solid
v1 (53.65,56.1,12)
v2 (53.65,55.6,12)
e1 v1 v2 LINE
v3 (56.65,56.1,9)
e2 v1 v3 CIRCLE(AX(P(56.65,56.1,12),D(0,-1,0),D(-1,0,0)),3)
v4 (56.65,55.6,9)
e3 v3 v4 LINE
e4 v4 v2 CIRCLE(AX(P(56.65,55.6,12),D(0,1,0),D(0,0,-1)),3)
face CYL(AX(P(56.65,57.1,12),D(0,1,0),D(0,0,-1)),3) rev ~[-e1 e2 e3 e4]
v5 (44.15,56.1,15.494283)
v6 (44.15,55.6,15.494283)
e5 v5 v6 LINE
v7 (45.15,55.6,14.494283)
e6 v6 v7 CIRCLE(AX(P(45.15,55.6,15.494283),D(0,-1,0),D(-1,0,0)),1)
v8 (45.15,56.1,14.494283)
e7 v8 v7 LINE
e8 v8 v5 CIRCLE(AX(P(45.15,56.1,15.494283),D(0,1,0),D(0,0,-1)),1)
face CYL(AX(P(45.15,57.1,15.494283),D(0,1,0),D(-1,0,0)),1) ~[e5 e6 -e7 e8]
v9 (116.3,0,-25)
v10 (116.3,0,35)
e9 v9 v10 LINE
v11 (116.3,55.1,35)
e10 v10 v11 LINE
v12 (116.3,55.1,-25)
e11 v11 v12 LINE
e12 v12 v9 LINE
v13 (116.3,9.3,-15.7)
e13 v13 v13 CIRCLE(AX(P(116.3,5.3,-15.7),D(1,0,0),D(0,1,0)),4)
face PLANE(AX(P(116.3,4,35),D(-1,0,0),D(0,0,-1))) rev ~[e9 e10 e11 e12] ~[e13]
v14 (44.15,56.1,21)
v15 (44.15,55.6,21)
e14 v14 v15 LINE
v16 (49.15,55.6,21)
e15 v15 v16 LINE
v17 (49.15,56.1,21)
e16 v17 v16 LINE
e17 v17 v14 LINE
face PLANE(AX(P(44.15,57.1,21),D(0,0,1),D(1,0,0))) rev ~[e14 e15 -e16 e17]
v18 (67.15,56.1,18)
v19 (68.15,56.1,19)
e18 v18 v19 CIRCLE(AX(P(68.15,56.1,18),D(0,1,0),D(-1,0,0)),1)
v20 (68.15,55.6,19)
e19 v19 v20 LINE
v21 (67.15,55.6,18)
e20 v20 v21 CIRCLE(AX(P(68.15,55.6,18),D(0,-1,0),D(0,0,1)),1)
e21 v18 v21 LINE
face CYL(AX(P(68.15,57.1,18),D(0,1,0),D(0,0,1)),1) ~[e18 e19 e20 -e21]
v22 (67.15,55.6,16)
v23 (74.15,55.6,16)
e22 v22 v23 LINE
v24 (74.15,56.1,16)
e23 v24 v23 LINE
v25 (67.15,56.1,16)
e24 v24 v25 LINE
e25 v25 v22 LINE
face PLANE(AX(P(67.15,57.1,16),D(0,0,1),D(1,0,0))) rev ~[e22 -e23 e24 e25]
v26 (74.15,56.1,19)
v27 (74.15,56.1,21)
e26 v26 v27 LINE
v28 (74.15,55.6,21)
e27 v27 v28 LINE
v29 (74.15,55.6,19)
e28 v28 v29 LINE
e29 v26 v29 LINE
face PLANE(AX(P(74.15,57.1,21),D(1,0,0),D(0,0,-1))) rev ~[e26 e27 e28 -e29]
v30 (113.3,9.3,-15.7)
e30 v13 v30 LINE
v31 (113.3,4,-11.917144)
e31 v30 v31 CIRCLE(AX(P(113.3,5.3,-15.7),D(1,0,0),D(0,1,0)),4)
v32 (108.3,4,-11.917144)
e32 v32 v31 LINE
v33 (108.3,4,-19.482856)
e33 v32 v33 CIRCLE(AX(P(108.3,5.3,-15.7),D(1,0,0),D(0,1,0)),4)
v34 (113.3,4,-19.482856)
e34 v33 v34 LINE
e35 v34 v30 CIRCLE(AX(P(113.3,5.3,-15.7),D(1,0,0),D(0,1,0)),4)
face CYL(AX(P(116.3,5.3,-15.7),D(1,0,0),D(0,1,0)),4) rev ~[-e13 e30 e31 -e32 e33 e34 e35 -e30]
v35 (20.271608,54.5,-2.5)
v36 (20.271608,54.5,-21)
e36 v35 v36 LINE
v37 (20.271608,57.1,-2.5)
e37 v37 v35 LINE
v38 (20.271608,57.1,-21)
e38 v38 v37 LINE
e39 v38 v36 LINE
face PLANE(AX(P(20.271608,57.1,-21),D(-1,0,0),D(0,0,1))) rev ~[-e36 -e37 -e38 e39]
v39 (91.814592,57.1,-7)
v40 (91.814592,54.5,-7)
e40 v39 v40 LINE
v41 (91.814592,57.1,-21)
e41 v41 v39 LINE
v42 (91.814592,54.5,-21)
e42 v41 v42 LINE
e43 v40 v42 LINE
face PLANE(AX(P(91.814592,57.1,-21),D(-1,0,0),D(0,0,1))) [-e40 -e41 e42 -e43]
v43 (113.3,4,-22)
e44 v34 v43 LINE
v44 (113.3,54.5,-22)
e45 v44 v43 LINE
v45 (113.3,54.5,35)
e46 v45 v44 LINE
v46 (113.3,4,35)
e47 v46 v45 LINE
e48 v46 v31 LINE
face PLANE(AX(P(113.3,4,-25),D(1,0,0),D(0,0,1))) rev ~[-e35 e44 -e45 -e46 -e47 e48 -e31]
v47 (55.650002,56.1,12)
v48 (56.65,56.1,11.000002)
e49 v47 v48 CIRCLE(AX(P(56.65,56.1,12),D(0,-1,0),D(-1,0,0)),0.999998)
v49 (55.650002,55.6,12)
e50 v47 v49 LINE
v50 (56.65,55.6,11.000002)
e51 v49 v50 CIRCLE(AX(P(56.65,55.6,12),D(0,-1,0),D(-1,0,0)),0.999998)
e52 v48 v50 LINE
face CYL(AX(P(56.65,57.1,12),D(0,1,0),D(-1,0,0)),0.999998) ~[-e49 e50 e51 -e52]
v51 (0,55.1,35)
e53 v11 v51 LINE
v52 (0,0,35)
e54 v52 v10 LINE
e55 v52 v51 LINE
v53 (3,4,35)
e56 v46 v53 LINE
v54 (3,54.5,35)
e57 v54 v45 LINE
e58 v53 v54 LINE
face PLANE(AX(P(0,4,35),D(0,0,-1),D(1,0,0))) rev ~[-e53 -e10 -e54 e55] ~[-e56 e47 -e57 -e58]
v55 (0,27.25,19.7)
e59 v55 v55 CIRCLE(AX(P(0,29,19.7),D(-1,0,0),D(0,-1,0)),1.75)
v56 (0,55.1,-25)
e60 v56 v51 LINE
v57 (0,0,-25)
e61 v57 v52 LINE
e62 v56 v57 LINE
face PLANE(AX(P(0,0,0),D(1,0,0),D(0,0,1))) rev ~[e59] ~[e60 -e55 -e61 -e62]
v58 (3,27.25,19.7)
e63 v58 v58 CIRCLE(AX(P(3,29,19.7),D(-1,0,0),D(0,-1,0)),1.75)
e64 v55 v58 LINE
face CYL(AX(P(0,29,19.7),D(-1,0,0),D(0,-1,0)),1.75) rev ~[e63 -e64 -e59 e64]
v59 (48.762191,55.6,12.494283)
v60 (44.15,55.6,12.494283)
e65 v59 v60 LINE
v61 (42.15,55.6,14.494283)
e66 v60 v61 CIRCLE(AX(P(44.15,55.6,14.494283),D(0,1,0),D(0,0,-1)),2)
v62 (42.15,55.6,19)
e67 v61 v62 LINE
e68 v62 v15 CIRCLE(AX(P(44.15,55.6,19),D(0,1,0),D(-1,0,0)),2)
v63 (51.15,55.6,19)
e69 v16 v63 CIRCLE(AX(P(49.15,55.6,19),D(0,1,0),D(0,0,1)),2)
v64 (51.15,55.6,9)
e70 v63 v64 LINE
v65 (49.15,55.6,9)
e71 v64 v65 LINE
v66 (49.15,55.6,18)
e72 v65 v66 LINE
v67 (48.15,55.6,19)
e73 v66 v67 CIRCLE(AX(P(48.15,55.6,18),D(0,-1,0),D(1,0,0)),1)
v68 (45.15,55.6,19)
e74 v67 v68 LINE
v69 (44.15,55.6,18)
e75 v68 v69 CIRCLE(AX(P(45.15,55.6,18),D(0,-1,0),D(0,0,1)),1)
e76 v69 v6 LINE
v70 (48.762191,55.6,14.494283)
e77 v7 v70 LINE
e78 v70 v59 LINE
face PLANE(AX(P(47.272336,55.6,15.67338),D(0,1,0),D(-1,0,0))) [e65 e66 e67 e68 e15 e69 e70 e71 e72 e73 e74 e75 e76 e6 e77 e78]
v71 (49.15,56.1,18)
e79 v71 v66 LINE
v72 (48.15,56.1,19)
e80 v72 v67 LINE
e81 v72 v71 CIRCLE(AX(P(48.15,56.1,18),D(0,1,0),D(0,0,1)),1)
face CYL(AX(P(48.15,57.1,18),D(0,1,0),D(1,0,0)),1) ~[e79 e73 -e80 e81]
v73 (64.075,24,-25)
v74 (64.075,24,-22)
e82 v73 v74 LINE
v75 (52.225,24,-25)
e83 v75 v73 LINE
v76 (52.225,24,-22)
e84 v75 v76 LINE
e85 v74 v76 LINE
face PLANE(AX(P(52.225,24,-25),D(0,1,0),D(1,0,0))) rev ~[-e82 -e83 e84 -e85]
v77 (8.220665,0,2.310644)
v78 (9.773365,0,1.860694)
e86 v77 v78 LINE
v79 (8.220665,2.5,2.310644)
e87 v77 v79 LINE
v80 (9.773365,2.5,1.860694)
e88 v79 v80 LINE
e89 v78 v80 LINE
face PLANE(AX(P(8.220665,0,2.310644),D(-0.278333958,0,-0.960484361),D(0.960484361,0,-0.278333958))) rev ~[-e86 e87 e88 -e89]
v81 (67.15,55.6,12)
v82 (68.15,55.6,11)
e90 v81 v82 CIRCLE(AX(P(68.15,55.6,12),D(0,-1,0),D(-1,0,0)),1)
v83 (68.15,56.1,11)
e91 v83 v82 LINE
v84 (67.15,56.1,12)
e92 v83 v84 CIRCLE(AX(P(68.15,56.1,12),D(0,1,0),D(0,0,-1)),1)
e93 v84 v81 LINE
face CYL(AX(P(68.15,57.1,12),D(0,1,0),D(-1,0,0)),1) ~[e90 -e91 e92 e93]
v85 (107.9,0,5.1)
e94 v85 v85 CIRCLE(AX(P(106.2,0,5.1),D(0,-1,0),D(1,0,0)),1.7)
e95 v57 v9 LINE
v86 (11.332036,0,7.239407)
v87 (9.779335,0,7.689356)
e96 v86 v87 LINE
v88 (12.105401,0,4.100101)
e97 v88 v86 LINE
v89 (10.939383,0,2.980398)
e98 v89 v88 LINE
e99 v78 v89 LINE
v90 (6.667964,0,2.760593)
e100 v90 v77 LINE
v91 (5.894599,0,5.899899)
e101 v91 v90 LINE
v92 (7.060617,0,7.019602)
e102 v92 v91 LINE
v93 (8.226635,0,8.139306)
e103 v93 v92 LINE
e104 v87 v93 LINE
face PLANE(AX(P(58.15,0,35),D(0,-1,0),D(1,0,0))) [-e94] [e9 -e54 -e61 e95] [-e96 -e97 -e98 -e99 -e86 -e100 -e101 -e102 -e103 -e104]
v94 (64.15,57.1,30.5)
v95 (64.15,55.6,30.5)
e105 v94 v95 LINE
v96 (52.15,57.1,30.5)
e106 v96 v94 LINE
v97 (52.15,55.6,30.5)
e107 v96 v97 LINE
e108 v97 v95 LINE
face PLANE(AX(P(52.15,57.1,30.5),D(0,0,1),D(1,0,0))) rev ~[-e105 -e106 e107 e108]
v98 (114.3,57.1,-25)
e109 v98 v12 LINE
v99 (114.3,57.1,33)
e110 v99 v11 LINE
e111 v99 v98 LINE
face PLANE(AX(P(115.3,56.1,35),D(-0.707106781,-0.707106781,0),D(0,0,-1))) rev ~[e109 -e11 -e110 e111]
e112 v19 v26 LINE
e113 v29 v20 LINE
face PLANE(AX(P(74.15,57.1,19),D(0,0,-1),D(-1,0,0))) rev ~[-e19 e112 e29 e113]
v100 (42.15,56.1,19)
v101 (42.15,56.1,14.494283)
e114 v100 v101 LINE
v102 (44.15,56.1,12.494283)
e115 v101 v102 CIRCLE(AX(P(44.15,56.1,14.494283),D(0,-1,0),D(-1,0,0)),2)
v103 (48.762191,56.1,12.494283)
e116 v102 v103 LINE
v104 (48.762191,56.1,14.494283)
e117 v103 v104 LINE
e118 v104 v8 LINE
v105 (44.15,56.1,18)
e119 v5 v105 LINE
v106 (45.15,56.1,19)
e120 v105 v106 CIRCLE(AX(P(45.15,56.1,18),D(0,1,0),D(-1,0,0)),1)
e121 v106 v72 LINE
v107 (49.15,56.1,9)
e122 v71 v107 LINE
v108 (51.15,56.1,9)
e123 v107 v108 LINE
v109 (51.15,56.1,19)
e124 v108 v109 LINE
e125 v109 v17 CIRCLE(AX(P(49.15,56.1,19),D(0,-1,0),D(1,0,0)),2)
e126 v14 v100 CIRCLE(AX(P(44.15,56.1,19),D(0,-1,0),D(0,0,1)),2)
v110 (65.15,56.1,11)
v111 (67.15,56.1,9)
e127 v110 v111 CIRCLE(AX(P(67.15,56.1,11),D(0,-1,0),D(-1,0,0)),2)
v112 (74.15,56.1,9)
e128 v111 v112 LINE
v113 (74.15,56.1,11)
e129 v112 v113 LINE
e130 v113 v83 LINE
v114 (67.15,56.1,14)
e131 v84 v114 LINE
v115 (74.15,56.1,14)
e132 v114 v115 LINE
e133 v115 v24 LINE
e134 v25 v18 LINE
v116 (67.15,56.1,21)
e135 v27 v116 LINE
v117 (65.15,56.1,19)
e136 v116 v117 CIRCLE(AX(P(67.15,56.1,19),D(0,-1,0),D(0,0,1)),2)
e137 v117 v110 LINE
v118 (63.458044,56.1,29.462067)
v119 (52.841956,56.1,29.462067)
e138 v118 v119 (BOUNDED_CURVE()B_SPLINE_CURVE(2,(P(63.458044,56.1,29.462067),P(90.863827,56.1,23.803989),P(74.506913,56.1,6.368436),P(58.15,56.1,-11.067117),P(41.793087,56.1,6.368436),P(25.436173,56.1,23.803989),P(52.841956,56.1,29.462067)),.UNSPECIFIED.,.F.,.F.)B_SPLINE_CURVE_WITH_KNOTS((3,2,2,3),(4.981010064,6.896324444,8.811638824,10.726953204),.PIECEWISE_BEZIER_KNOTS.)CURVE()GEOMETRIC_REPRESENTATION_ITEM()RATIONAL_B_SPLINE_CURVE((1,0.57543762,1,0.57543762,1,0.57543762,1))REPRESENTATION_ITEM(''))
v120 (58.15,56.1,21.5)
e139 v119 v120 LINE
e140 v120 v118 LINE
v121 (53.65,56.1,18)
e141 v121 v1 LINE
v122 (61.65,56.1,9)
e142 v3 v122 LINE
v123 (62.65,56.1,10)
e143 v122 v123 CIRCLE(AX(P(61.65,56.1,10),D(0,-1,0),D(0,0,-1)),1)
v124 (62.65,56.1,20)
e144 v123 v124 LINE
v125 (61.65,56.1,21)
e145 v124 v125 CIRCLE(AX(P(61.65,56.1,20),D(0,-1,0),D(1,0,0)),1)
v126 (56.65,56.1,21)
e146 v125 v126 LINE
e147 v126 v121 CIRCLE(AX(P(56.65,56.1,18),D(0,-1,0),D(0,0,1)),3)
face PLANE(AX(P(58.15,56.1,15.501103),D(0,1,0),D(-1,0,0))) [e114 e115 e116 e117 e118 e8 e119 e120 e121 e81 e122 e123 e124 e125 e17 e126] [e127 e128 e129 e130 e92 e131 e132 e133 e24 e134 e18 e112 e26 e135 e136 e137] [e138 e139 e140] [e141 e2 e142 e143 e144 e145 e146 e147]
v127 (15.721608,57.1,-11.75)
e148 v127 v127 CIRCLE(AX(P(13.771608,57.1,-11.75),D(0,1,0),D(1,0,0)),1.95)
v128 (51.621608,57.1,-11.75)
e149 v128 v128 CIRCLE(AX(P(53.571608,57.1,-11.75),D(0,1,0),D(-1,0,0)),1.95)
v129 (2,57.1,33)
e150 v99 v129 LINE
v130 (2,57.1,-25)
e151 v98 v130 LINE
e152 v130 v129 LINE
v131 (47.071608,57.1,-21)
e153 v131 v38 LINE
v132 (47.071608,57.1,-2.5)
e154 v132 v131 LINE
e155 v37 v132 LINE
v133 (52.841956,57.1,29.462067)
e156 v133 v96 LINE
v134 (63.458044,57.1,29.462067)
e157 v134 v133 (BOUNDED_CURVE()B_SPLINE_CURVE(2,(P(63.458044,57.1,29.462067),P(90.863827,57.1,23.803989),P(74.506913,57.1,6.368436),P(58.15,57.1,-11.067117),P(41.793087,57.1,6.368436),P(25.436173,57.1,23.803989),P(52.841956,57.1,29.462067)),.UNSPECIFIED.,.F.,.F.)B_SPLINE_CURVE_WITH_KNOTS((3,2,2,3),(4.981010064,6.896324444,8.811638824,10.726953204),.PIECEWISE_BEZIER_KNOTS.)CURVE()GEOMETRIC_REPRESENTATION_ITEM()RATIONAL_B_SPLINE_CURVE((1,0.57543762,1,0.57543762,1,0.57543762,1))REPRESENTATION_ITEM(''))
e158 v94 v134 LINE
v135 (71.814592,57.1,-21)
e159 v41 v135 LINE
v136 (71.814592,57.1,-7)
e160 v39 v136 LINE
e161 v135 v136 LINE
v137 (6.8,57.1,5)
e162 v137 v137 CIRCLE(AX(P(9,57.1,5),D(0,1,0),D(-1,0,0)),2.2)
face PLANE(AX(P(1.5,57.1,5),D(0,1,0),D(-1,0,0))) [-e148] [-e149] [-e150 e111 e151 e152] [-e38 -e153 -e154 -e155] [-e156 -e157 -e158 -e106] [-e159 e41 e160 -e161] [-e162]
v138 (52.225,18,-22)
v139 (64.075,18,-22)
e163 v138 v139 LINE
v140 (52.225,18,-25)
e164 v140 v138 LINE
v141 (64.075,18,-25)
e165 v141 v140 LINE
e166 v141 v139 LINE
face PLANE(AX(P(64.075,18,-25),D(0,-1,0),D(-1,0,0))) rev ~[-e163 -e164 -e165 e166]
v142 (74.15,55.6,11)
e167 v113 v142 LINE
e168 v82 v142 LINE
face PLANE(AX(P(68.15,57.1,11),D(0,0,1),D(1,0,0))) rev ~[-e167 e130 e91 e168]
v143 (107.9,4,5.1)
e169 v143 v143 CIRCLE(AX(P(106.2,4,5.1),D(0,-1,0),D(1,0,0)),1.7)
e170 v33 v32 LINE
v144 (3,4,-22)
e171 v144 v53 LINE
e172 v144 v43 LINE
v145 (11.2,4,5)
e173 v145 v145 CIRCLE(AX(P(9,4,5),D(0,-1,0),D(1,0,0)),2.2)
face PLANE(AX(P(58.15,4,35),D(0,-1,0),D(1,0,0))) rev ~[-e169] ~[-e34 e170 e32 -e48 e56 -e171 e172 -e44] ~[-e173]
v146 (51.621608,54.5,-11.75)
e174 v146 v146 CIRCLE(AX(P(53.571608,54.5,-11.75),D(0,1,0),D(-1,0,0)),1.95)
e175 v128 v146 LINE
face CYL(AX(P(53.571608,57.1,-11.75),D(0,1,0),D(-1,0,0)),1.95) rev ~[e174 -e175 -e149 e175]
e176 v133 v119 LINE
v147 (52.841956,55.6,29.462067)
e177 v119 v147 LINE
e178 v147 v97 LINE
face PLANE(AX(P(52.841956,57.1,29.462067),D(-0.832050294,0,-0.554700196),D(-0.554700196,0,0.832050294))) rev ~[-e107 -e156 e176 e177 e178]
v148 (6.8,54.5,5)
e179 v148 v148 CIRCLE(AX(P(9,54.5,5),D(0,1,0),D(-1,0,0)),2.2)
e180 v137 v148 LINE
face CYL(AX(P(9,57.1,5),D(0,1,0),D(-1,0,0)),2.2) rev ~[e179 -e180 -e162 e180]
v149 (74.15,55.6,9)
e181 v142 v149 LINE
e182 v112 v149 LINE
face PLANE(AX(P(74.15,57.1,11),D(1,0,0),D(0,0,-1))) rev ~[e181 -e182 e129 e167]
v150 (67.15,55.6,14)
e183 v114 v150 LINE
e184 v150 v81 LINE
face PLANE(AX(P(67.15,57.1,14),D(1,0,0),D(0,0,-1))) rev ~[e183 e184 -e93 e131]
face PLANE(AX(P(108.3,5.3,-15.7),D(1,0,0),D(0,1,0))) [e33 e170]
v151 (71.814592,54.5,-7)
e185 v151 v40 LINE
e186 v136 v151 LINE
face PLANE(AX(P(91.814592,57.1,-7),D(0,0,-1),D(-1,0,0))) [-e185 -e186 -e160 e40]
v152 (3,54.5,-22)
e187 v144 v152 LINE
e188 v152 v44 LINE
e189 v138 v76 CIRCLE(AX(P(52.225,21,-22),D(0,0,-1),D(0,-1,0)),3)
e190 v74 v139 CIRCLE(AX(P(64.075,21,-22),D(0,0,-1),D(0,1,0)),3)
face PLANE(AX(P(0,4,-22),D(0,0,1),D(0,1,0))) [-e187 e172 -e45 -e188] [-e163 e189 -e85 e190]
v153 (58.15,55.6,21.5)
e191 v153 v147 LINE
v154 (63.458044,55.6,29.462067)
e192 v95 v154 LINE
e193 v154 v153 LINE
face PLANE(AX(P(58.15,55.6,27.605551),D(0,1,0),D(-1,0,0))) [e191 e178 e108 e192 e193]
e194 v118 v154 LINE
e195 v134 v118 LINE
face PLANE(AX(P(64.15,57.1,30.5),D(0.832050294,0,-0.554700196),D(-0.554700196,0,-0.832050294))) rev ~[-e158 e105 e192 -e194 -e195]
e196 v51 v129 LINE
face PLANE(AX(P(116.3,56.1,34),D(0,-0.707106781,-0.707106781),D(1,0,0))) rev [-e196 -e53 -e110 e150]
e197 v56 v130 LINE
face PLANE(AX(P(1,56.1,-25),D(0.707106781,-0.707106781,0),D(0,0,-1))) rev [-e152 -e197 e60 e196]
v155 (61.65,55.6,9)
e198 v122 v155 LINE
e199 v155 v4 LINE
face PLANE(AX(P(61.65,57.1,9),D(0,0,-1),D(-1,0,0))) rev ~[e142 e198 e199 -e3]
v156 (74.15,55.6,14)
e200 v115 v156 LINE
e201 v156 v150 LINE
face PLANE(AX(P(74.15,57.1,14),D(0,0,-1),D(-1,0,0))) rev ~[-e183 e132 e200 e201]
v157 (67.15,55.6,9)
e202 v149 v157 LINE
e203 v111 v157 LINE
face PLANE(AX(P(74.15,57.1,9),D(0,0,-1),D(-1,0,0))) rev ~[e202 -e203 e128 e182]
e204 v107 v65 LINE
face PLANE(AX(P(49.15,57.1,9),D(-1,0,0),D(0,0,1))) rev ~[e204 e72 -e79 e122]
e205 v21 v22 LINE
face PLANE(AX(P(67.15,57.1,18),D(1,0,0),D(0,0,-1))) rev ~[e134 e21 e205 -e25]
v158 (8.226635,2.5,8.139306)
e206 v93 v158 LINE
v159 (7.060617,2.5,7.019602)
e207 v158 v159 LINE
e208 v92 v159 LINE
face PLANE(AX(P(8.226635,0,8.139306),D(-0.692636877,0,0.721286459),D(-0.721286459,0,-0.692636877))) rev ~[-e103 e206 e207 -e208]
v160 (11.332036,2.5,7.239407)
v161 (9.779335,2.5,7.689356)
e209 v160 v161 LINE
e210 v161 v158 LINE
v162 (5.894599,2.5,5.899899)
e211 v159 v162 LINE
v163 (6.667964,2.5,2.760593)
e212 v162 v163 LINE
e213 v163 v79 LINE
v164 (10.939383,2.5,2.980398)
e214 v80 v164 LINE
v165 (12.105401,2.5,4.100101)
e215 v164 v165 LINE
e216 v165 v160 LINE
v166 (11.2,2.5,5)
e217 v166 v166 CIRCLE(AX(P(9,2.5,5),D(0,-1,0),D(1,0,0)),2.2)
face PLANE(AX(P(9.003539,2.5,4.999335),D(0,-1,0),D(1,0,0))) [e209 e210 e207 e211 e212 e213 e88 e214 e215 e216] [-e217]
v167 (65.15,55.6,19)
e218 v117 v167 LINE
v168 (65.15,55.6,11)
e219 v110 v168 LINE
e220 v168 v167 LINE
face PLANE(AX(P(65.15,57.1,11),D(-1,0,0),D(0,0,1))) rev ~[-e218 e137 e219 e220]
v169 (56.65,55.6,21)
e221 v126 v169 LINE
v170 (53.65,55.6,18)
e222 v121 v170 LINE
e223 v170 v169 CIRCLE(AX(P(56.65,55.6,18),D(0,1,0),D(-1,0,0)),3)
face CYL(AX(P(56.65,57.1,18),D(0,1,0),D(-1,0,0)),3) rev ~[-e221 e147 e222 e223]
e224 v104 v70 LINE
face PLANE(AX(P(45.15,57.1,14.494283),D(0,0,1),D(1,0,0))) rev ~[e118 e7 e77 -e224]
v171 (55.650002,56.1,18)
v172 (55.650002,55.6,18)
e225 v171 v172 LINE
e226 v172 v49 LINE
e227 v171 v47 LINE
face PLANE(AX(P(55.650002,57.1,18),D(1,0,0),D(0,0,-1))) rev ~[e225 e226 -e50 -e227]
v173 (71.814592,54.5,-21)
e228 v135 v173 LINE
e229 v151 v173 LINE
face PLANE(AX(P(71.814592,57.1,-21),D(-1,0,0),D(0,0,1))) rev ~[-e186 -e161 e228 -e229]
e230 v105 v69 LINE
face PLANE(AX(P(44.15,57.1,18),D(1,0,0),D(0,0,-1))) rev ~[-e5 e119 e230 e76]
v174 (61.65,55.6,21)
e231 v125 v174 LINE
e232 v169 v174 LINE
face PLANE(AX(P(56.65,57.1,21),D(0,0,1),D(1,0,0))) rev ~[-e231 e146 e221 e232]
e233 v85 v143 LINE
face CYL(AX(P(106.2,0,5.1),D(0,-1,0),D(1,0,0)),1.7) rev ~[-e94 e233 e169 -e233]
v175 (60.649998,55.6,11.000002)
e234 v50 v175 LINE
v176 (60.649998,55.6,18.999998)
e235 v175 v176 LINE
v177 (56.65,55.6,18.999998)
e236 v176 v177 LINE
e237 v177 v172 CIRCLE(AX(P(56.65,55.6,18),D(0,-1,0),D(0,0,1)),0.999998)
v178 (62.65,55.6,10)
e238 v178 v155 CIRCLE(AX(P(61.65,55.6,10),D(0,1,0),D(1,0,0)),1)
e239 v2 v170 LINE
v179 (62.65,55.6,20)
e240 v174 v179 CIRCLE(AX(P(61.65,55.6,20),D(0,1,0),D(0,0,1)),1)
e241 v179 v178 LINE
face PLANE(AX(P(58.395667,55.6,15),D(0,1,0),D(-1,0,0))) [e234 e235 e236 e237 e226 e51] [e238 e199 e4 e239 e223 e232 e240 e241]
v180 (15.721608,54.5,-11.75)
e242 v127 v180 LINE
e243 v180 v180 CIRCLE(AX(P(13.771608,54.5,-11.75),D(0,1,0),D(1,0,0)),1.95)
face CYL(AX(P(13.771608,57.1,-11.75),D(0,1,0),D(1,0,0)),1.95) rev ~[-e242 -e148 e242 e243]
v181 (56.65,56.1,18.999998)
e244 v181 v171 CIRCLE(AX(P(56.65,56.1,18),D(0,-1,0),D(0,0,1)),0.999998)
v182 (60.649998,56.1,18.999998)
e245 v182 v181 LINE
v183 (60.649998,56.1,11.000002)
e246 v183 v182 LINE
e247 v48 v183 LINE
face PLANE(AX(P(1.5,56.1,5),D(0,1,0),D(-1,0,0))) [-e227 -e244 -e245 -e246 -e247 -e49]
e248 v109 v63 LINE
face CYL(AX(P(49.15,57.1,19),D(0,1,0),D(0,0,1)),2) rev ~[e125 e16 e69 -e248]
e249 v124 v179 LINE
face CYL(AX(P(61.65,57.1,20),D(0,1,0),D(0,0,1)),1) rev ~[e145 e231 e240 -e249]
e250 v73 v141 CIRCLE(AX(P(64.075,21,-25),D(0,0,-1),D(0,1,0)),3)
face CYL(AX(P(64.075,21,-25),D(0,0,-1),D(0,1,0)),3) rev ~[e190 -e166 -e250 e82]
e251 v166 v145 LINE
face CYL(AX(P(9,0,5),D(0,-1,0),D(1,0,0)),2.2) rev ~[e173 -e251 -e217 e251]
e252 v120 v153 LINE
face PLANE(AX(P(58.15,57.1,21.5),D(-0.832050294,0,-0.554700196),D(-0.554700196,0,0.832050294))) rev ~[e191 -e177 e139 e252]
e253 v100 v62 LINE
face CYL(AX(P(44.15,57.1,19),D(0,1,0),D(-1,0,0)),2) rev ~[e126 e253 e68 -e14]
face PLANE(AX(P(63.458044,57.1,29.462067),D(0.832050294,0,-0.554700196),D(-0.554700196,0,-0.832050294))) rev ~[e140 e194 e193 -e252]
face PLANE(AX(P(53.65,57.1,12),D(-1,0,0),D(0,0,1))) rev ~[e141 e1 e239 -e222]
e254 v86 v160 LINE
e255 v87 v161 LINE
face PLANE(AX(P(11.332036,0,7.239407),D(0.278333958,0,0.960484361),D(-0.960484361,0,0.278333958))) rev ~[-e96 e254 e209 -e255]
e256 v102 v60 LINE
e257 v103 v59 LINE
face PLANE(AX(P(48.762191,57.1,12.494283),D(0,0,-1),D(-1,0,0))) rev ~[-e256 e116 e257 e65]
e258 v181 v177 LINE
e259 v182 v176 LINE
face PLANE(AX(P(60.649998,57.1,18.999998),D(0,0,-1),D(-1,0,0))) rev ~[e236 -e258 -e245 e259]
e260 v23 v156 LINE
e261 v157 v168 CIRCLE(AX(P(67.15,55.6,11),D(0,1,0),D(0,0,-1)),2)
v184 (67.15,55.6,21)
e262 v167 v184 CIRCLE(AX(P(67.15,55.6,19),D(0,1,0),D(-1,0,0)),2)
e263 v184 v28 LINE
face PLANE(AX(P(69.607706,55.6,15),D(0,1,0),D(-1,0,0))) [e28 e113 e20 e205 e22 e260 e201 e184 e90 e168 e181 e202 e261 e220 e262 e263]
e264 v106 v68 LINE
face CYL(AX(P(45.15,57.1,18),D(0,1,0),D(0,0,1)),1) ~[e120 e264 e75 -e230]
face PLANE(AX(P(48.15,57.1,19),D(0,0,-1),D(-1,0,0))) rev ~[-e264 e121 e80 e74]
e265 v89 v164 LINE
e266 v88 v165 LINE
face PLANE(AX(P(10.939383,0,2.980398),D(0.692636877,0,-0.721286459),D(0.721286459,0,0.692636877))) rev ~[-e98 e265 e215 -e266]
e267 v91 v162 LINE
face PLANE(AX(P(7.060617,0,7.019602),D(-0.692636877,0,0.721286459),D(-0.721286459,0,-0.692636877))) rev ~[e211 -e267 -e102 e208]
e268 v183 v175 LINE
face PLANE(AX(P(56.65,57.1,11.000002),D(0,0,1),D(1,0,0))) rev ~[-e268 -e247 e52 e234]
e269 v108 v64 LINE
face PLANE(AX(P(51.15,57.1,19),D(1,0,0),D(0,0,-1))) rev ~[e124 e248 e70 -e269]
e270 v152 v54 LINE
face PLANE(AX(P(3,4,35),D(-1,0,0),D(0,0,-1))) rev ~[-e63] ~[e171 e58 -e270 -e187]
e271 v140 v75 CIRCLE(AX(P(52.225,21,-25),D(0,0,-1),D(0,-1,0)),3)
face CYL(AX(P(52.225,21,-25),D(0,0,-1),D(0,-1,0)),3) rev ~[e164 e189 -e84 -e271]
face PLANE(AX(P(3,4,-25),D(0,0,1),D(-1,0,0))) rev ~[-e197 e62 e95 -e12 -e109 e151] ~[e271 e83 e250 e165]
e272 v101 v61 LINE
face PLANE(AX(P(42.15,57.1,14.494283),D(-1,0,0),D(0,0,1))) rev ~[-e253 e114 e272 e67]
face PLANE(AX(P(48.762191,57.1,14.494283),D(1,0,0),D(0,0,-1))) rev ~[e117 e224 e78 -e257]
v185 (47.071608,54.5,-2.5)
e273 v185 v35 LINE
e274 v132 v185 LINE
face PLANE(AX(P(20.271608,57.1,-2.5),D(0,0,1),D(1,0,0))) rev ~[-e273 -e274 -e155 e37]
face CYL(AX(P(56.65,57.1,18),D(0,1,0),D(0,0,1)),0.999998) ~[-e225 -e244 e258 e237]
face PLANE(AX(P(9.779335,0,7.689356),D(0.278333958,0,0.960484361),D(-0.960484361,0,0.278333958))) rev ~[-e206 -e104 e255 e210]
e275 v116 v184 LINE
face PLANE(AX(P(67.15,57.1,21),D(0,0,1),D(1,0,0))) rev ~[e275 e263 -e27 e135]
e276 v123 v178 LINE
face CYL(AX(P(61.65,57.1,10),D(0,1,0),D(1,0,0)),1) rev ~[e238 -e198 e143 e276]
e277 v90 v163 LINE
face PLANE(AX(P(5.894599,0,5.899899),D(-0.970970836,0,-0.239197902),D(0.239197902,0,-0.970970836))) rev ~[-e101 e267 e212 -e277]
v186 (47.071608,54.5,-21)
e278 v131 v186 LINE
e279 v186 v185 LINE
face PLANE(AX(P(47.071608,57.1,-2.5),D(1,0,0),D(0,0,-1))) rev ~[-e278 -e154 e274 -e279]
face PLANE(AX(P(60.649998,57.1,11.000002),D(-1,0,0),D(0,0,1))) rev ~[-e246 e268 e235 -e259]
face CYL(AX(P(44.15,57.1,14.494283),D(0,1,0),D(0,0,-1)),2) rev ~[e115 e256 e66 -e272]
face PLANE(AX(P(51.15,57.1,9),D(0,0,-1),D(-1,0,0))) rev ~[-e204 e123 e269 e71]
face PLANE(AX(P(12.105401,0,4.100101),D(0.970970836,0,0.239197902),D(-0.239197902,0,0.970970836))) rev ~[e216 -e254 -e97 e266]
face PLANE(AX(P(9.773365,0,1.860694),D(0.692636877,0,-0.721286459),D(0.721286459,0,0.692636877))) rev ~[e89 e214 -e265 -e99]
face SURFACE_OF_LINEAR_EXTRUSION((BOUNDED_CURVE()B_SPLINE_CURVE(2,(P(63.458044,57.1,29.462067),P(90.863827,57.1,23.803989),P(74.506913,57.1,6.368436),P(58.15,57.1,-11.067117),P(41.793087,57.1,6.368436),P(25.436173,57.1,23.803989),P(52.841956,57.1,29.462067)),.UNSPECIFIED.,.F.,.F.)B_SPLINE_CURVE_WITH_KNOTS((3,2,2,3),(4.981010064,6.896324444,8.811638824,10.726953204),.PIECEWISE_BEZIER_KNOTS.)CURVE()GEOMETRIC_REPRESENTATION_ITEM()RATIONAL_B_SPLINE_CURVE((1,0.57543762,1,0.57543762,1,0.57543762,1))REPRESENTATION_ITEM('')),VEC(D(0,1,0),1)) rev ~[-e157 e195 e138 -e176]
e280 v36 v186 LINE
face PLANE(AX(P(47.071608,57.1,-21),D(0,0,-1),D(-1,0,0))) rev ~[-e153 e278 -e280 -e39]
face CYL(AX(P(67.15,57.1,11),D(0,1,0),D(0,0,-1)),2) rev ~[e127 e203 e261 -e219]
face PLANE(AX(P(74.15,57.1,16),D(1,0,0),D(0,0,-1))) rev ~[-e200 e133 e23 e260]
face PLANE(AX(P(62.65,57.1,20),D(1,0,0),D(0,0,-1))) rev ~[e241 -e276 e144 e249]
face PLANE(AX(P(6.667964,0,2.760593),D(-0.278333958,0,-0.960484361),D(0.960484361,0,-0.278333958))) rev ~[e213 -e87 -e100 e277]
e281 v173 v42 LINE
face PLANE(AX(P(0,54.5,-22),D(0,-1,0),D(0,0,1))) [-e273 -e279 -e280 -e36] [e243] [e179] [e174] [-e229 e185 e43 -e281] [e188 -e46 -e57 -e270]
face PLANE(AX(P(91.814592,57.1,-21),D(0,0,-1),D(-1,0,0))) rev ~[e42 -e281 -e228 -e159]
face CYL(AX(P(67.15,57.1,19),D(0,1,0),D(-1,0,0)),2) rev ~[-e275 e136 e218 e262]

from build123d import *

# Parameters (mm, degrees)
F0_W      = 116.3
F0_H      = 70
F0_R      = 2.2
F0_R_2    = 1.7
F1_DEPTH  = 4
F3_DEPTH  = 53.1
F5_DEPTH  = 116.3
F6_R      = 1.95
F6_W      = 20
F6_H      = 14
F7_DEPTH  = 25
F8_R      = 1.75
F9_DEPTH  = 25
F10_W     = 116.3
F10_H     = 35
F11_DEPTH = 25
F13_DEPTH = 1.5
F15_DEPTH = 1
F16_DEPTH = 1
F18_DEPTH = 1.5
F20_DEPTH = 25
F21_SIZE  = 2
F23_DEPTH = 2.5
F24_R     = 1.7
F24_R_2   = 2.2
F25_DEPTH = 25
F26_R     = 4
F27_DEPTH = 8


with BuildPart() as f1:
    # F0 (on Front) → F1 (new body)
    with BuildSketch(Plane.XZ):
        with Locations((58.15, 35)):
            Rectangle(F0_W, F0_H)
        with Locations((9, 5)):
            Circle(F0_R, mode=Mode.SUBTRACT)
        with Locations((106.2, 5.1)):
            Circle(F0_R_2, mode=Mode.SUBTRACT)
        with Locations((18, 61.5)):
            Circle(F0_R_2, mode=Mode.SUBTRACT)
        with Locations((103.3, 61.5)):
            Circle(F0_R_2, mode=Mode.SUBTRACT)
    extrude(amount=-F1_DEPTH)

    # F2 (on face) → F3 (join)
    with BuildSketch(Plane(origin=(0, 4, 0), x_dir=(-1, 0, 0), z_dir=(0, 1, 0))):
        Polygon((-113.3, 35), (-116.3, 35), (-116.3, 0), (-116.3, -25), (-113.3, -25), (-113.3, 0), align=None)
        Polygon((0, 0), (0, 35), (-3, 35), (-3, 0), (-3, -25), (0, -25), align=None)
    extrude(amount=F3_DEPTH)

    # F4 (on face) → F5 (join)
    with BuildSketch(Plane(origin=(0, 0, 0), x_dir=(0, -1, 0), z_dir=(-1, 0, 0))):
        Polygon((-54.5, 35), (-57.1, 35), (-57.1, -25), (0, -25), (0, 0), (-4, 0), (-4, -22), (-54.5, -22), align=None)
    extrude(amount=-F5_DEPTH)

    # F6 (on face) → F7 (cut)
    with BuildSketch(Plane(origin=(0, 57.1, 0), x_dir=(-1, 0, 0), z_dir=(0, 1, 0))):
        with BuildLine():
            ThreePointArc((-11.8216082234, -11.75), (-13.7716082234, -9.8), (-15.7216082234, -11.75))
            ThreePointArc((-15.7216082234, -11.75), (-13.7716082234, -13.7), (-11.8216082234, -11.75))
        make_face()
        Polygon((-20.2716082234, -2.5), (-47.0716082234, -2.5), (-47.0716082234, -21), (-20.2716082234, -21), (-20.2716082234, -11.75), align=None)
        with Locations((-53.5716082234, -11.75)):
            Circle(F6_R)
        with Locations((-81.8145924807, -14)):
            Rectangle(F6_W, F6_H)
    extrude(amount=-F7_DEPTH, mode=Mode.SUBTRACT)

    # F8 (on face) → F9 (cut)
    with BuildSketch(Plane(origin=(0, 0, 0), x_dir=(0, -1, 0), z_dir=(-1, 0, 0))):
        with Locations((-29, 19.7)):
            Circle(F8_R)
    extrude(amount=-F9_DEPTH, mode=Mode.SUBTRACT)

    # F10 (on face) → F11 (cut)
    with BuildSketch(Plane(origin=(0, 4, 0), x_dir=(-1, 0, 0), z_dir=(0, 1, 0))):
        with Locations((-58.15, 52.5)):
            Rectangle(F10_W, F10_H)
    extrude(amount=-F11_DEPTH, mode=Mode.SUBTRACT)

    # F12 (on face) → F13 (cut)
    with BuildSketch(Plane(origin=(0, 57.1, 0), x_dir=(-1, 0, 0), z_dir=(0, 1, 0))):
        with BuildLine():
            Line((-67.15, 21), (-74.15, 21))
            Line((-74.15, 21), (-74.15, 19))
            Line((-74.15, 19), (-68.15, 19))
            ThreePointArc((-68.15, 19), (-67.4428932188, 18.7071067812), (-67.15, 18))
            Line((-67.15, 18), (-67.15, 16))
            Line((-67.15, 16), (-74.15, 16))
            Line((-74.15, 16), (-74.15, 14))
            Line((-74.15, 14), (-67.15, 14))
            Line((-67.15, 14), (-67.15, 12))
            ThreePointArc((-67.15, 12), (-67.4428932188, 11.2928932188), (-68.15, 11))
            Line((-68.15, 11), (-74.15, 11))
            Line((-74.15, 11), (-74.15, 9))
            Line((-74.15, 9), (-67.15, 9))
            ThreePointArc((-67.15, 9), (-65.7357864376, 9.5857864376), (-65.15, 11))
            Line((-65.15, 11), (-65.15, 19))
            ThreePointArc((-65.15, 19), (-65.7357864376, 20.4142135624), (-67.15, 21))
        make_face()
        with BuildLine():
            Line((-56.65, 21), (-61.65, 21))
            ThreePointArc((-61.65, 21), (-62.3571067812, 20.7071067812), (-62.65, 20))
            Line((-62.65, 20), (-62.65, 10))
            ThreePointArc((-62.65, 10), (-62.3571067812, 9.2928932188), (-61.65, 9))
            Line((-61.65, 9), (-56.65, 9))
            ThreePointArc((-56.65, 9), (-54.5286796564, 9.8786796564), (-53.65, 12))
            Line((-53.65, 12), (-53.65, 18))
            ThreePointArc((-53.65, 18), (-54.5286796564, 20.1213203436), (-56.65, 21))
        make_face()
        with BuildLine():
            Line((-60.649998486, 11.000001514), (-60.649998486, 18.999998486))
            Line((-60.649998486, 18.999998486), (-56.65, 18.999998486))
            ThreePointArc((-56.65, 18.999998486), (-55.9428942893, 18.7071057107), (-55.650001514, 18))
            Line((-55.650001514, 18), (-55.650001514, 12))
            ThreePointArc((-55.650001514, 12), (-55.9428942893, 11.2928942893), (-56.65, 11.000001514))
            Line((-56.65, 11.000001514), (-60.649998486, 11.000001514))
        make_face(mode=Mode.SUBTRACT)
        with BuildLine():
            Line((-44.15, 21), (-49.15, 21))
            ThreePointArc((-49.15, 21), (-50.5642135624, 20.4142135624), (-51.15, 19))
            Line((-51.15, 19), (-51.15, 9))
            Line((-51.15, 9), (-49.15, 9))
            Line((-49.15, 9), (-49.15, 18))
            ThreePointArc((-49.15, 18), (-48.8571067812, 18.7071067812), (-48.15, 19))
            Line((-48.15, 19), (-45.15, 19))
            ThreePointArc((-45.15, 19), (-44.4428932188, 18.7071067812), (-44.15, 18))
            Line((-44.15, 18), (-44.15, 15.494282797))
            ThreePointArc((-44.15, 15.494282797), (-44.4428932188, 14.7871760158), (-45.15, 14.494282797))
            Line((-45.15, 14.494282797), (-47.962191087, 14.494282797))
            Line((-47.962191087, 14.494282797), (-48.762191087, 14.494282797))
            Line((-48.762191087, 14.494282797), (-48.762191087, 12.494282797))
            Line((-48.762191087, 12.494282797), (-47.8750728071, 12.494282797))
            Line((-47.8750728071, 12.494282797), (-44.15, 12.494282797))
            ThreePointArc((-44.15, 12.494282797), (-42.7357864376, 13.0800692346), (-42.15, 14.494282797))
            Line((-42.15, 14.494282797), (-42.15, 19))
            ThreePointArc((-42.15, 19), (-42.7357864376, 20.4142135624), (-44.15, 21))
        make_face()
    extrude(amount=-F13_DEPTH, mode=Mode.SUBTRACT)

    # F14 (on face) → F15 (cut)
    with BuildSketch(Plane(origin=(0, 57.1, 0), x_dir=(-1, 0, 0), z_dir=(0, 1, 0))):
        with BuildLine():
            Line((-58.15, 21.5), (-63.4580444713, 29.462066707))
            add(Edge.make_bspline(
                [(-63.4580444713, 29.462066707), (-90.8638269236, 23.8039887729), (-74.5069134618, 6.3684356935), (-58.15, -11.0671173859), (-41.7930865382, 6.3684356935), (-25.4361730764, 23.8039887729), (-52.8419555287, 29.462066707)],
                knots=[4.9810100635, 4.9810100635, 4.9810100635, 6.8963244438, 6.8963244438, 8.8116388241, 8.8116388241, 10.7269532044, 10.7269532044, 10.7269532044], degree=2, weights=[1, 0.5754376204, 1, 0.5754376204, 1, 0.5754376204, 1]))
            Line((-52.8419555287, 29.462066707), (-58.15, 21.5))
        make_face()
        with BuildLine():
            Line((-74.15, 19), (-74.15, 21))
            Line((-74.15, 21), (-67.15, 21))
            ThreePointArc((-67.15, 21), (-65.7357864376, 20.4142135624), (-65.15, 19))
            Line((-65.15, 19), (-65.15, 11))
            ThreePointArc((-65.15, 11), (-65.7357864376, 9.5857864376), (-67.15, 9))
            Line((-67.15, 9), (-74.15, 9))
            Line((-74.15, 9), (-74.15, 11))
            Line((-74.15, 11), (-68.15, 11))
            ThreePointArc((-68.15, 11), (-67.4428932188, 11.2928932188), (-67.15, 12))
            Line((-67.15, 12), (-67.15, 14))
            Line((-67.15, 14), (-74.15, 14))
            Line((-74.15, 14), (-74.15, 16))
            Line((-74.15, 16), (-67.15, 16))
            Line((-67.15, 16), (-67.15, 18))
            ThreePointArc((-67.15, 18), (-67.4428932188, 18.7071067812), (-68.15, 19))
            Line((-68.15, 19), (-74.15, 19))
        make_face(mode=Mode.SUBTRACT)
        with BuildLine():
            ThreePointArc((-62.65, 20), (-62.3571067812, 20.7071067812), (-61.65, 21))
            Line((-61.65, 21), (-56.65, 21))
            ThreePointArc((-56.65, 21), (-54.5286796564, 20.1213203436), (-53.65, 18))
            Line((-53.65, 18), (-53.65, 12))
            ThreePointArc((-53.65, 12), (-54.5286796564, 9.8786796564), (-56.65, 9))
            Line((-56.65, 9), (-61.65, 9))
            ThreePointArc((-61.65, 9), (-62.3571067812, 9.2928932188), (-62.65, 10))
            Line((-62.65, 10), (-62.65, 20))
        make_face(mode=Mode.SUBTRACT)
        with BuildLine():
            ThreePointArc((-51.15, 19), (-50.5642135624, 20.4142135624), (-49.15, 21))
            Line((-49.15, 21), (-44.15, 21))
            ThreePointArc((-44.15, 21), (-42.7357864376, 20.4142135624), (-42.15, 19))
            Line((-42.15, 19), (-42.15, 14.494282797))
            ThreePointArc((-42.15, 14.494282797), (-42.7357864376, 13.0800692346), (-44.15, 12.494282797))
            Line((-44.15, 12.494282797), (-47.8750728071, 12.494282797))
            Line((-47.8750728071, 12.494282797), (-48.762191087, 12.494282797))
            Line((-48.762191087, 12.494282797), (-48.762191087, 14.494282797))
            Line((-48.762191087, 14.494282797), (-47.962191087, 14.494282797))
            Line((-47.962191087, 14.494282797), (-45.15, 14.494282797))
            ThreePointArc((-45.15, 14.494282797), (-44.4428932188, 14.7871760158), (-44.15, 15.494282797))
            Line((-44.15, 15.494282797), (-44.15, 18))
            ThreePointArc((-44.15, 18), (-44.4428932188, 18.7071067812), (-45.15, 19))
            Line((-45.15, 19), (-48.15, 19))
            ThreePointArc((-48.15, 19), (-48.8571067812, 18.7071067812), (-49.15, 18))
            Line((-49.15, 18), (-49.15, 9))
            Line((-49.15, 9), (-51.15, 9))
            Line((-51.15, 9), (-51.15, 19))
        make_face(mode=Mode.SUBTRACT)
    extrude(amount=-F15_DEPTH, mode=Mode.SUBTRACT)

    # F16 (cut): a face of the model
    f16_faces = [f1.faces().sort_by_distance(p)[0] for p in [
        (58.1746933701, 57.1, 15),
    ]]
    extrude(f16_faces, amount=-F16_DEPTH, mode=Mode.SUBTRACT)

    # F17 (on face) → F18 (cut)
    with BuildSketch(Plane(origin=(0, 57.1, 0), x_dir=(-1, 0, 0), z_dir=(0, 1, 0))):
        Polygon((-52.15, 30.5), (-58.15, 30.5), (-64.15, 30.5), (-63.4580444713, 29.462066707), (-58.15, 21.5), (-52.8419555287, 29.462066707), align=None)
    extrude(amount=-F18_DEPTH, mode=Mode.SUBTRACT)

    # F19 (on face) → F20 (cut)
    with BuildSketch(Plane(origin=(0, 0, -25), x_dir=(1, 0, 0), z_dir=(0, 0, -1))):
        with BuildLine():
            ThreePointArc((52.225, -18), (49.225, -21), (52.225, -24))
            Line((52.225, -24), (64.075, -24))
            ThreePointArc((64.075, -24), (67.075, -21), (64.075, -18))
            Line((64.075, -18), (52.225, -18))
        make_face()
    extrude(amount=-F20_DEPTH, mode=Mode.SUBTRACT)

    # F21
    f21_edges = [f1.edges().sort_by_distance(p)[0] for p in [
        (116.3, 57.1, 5),
        (0, 57.1, 5),
        (58.15, 57.1, 35),
    ]]
    chamfer(f21_edges, length=F21_SIZE)

    # F22 (on face) → F23 (cut)
    with BuildSketch(Plane.XZ):
        with BuildLine():
            ThreePointArc((10.9393832885, 2.980397945), (11.5758758906, 3.9023373031), (11.8, 5))
            ThreePointArc((11.8, 5), (11.7796053064, 5.3373341677), (11.7187183281, 5.6697541732))
            ThreePointArc((11.7187183281, 5.6697541732), (11.0196020537, 6.9393832898), (9.7793350426, 7.6893562225))
            ThreePointArc((9.7793350426, 7.6893562225), (8.3302458687, 7.7187183384), (7.0606167648, 7.0196021062))
            ThreePointArc((7.0606167648, 7.0196021062), (6.3106437866, 5.7793350738), (6.2812816719, 4.3302458268))
            ThreePointArc((6.2812816719, 4.3302458268), (6.9803979463, 3.0606167102), (8.2206649574, 2.3106437775))
            ThreePointArc((8.2206649574, 2.3106437775), (9.6697541672, 2.2812816704), (10.9393832885, 2.980397945))
        make_face()
        with BuildLine():
            ThreePointArc((11.7187183281, 5.6697541732), (11.7796053064, 5.3373341677), (11.8, 5))
            ThreePointArc((11.8, 5), (11.5758758906, 3.9023373031), (10.9393832885, 2.980397945))
            Line((10.9393832885, 2.980397945), (12.1054010644, 4.1001013597))
            Line((12.1054010644, 4.1001013597), (11.7187183281, 5.6697541732))
        make_face()
        with BuildLine():
            ThreePointArc((9.7793350426, 7.6893562225), (11.0196020537, 6.9393832898), (11.7187183281, 5.6697541732))
            Line((11.7187183281, 5.6697541732), (11.3320356155, 7.2394068905))
            Line((11.3320356155, 7.2394068905), (9.7793350426, 7.6893562225))
        make_face()
        with BuildLine():
            Line((9.7733654488, 1.8606944692), (10.9393832885, 2.980397945))
            ThreePointArc((10.9393832885, 2.980397945), (9.6697541672, 2.2812816704), (8.2206649574, 2.3106437775))
            Line((8.2206649574, 2.3106437775), (9.7733654488, 1.8606944692))
        make_face()
        with BuildLine():
            ThreePointArc((7.0606167648, 7.0196021062), (8.3302458687, 7.7187183384), (9.7793350426, 7.6893562225))
            Line((9.7793350426, 7.6893562225), (8.2266345512, 8.1393055308))
            Line((8.2266345512, 8.1393055308), (7.0606167648, 7.0196021062))
        make_face()
        with BuildLine():
            Line((6.6679643845, 2.7605931095), (8.2206649574, 2.3106437775))
            ThreePointArc((8.2206649574, 2.3106437775), (6.9803979463, 3.0606167102), (6.2812816719, 4.3302458268))
            Line((6.2812816719, 4.3302458268), (6.6679643845, 2.7605931095))
        make_face()
        with BuildLine():
            ThreePointArc((6.2812816719, 4.3302458268), (6.3106437866, 5.7793350738), (7.0606167648, 7.0196021062))
            Line((7.0606167648, 7.0196021062), (5.8945989356, 5.8998986403))
            Line((5.8945989356, 5.8998986403), (6.2812816719, 4.3302458268))
        make_face()
    extrude(amount=-F23_DEPTH, mode=Mode.SUBTRACT)

    # F24 (on face) → F25 (cut)
    with BuildSketch(Plane(origin=(0, 57.1, 0), x_dir=(-1, 0, 0), z_dir=(0, 1, 0))):
        with Locations((-18, 61.5)):
            Circle(F24_R)
        with Locations((-103.3, 61.5)):
            Circle(F24_R)
        with Locations((-9, 5)):
            Circle(F24_R_2)
    extrude(amount=-F25_DEPTH, mode=Mode.SUBTRACT)

    # F26 (on face) → F27 (cut)
    with BuildSketch(Plane.YZ.offset(116.3)):
        with Locations((5.3, -15.7)):
            Circle(F26_R)
    extrude(amount=-F27_DEPTH, mode=Mode.SUBTRACT)


solid = f1.part
